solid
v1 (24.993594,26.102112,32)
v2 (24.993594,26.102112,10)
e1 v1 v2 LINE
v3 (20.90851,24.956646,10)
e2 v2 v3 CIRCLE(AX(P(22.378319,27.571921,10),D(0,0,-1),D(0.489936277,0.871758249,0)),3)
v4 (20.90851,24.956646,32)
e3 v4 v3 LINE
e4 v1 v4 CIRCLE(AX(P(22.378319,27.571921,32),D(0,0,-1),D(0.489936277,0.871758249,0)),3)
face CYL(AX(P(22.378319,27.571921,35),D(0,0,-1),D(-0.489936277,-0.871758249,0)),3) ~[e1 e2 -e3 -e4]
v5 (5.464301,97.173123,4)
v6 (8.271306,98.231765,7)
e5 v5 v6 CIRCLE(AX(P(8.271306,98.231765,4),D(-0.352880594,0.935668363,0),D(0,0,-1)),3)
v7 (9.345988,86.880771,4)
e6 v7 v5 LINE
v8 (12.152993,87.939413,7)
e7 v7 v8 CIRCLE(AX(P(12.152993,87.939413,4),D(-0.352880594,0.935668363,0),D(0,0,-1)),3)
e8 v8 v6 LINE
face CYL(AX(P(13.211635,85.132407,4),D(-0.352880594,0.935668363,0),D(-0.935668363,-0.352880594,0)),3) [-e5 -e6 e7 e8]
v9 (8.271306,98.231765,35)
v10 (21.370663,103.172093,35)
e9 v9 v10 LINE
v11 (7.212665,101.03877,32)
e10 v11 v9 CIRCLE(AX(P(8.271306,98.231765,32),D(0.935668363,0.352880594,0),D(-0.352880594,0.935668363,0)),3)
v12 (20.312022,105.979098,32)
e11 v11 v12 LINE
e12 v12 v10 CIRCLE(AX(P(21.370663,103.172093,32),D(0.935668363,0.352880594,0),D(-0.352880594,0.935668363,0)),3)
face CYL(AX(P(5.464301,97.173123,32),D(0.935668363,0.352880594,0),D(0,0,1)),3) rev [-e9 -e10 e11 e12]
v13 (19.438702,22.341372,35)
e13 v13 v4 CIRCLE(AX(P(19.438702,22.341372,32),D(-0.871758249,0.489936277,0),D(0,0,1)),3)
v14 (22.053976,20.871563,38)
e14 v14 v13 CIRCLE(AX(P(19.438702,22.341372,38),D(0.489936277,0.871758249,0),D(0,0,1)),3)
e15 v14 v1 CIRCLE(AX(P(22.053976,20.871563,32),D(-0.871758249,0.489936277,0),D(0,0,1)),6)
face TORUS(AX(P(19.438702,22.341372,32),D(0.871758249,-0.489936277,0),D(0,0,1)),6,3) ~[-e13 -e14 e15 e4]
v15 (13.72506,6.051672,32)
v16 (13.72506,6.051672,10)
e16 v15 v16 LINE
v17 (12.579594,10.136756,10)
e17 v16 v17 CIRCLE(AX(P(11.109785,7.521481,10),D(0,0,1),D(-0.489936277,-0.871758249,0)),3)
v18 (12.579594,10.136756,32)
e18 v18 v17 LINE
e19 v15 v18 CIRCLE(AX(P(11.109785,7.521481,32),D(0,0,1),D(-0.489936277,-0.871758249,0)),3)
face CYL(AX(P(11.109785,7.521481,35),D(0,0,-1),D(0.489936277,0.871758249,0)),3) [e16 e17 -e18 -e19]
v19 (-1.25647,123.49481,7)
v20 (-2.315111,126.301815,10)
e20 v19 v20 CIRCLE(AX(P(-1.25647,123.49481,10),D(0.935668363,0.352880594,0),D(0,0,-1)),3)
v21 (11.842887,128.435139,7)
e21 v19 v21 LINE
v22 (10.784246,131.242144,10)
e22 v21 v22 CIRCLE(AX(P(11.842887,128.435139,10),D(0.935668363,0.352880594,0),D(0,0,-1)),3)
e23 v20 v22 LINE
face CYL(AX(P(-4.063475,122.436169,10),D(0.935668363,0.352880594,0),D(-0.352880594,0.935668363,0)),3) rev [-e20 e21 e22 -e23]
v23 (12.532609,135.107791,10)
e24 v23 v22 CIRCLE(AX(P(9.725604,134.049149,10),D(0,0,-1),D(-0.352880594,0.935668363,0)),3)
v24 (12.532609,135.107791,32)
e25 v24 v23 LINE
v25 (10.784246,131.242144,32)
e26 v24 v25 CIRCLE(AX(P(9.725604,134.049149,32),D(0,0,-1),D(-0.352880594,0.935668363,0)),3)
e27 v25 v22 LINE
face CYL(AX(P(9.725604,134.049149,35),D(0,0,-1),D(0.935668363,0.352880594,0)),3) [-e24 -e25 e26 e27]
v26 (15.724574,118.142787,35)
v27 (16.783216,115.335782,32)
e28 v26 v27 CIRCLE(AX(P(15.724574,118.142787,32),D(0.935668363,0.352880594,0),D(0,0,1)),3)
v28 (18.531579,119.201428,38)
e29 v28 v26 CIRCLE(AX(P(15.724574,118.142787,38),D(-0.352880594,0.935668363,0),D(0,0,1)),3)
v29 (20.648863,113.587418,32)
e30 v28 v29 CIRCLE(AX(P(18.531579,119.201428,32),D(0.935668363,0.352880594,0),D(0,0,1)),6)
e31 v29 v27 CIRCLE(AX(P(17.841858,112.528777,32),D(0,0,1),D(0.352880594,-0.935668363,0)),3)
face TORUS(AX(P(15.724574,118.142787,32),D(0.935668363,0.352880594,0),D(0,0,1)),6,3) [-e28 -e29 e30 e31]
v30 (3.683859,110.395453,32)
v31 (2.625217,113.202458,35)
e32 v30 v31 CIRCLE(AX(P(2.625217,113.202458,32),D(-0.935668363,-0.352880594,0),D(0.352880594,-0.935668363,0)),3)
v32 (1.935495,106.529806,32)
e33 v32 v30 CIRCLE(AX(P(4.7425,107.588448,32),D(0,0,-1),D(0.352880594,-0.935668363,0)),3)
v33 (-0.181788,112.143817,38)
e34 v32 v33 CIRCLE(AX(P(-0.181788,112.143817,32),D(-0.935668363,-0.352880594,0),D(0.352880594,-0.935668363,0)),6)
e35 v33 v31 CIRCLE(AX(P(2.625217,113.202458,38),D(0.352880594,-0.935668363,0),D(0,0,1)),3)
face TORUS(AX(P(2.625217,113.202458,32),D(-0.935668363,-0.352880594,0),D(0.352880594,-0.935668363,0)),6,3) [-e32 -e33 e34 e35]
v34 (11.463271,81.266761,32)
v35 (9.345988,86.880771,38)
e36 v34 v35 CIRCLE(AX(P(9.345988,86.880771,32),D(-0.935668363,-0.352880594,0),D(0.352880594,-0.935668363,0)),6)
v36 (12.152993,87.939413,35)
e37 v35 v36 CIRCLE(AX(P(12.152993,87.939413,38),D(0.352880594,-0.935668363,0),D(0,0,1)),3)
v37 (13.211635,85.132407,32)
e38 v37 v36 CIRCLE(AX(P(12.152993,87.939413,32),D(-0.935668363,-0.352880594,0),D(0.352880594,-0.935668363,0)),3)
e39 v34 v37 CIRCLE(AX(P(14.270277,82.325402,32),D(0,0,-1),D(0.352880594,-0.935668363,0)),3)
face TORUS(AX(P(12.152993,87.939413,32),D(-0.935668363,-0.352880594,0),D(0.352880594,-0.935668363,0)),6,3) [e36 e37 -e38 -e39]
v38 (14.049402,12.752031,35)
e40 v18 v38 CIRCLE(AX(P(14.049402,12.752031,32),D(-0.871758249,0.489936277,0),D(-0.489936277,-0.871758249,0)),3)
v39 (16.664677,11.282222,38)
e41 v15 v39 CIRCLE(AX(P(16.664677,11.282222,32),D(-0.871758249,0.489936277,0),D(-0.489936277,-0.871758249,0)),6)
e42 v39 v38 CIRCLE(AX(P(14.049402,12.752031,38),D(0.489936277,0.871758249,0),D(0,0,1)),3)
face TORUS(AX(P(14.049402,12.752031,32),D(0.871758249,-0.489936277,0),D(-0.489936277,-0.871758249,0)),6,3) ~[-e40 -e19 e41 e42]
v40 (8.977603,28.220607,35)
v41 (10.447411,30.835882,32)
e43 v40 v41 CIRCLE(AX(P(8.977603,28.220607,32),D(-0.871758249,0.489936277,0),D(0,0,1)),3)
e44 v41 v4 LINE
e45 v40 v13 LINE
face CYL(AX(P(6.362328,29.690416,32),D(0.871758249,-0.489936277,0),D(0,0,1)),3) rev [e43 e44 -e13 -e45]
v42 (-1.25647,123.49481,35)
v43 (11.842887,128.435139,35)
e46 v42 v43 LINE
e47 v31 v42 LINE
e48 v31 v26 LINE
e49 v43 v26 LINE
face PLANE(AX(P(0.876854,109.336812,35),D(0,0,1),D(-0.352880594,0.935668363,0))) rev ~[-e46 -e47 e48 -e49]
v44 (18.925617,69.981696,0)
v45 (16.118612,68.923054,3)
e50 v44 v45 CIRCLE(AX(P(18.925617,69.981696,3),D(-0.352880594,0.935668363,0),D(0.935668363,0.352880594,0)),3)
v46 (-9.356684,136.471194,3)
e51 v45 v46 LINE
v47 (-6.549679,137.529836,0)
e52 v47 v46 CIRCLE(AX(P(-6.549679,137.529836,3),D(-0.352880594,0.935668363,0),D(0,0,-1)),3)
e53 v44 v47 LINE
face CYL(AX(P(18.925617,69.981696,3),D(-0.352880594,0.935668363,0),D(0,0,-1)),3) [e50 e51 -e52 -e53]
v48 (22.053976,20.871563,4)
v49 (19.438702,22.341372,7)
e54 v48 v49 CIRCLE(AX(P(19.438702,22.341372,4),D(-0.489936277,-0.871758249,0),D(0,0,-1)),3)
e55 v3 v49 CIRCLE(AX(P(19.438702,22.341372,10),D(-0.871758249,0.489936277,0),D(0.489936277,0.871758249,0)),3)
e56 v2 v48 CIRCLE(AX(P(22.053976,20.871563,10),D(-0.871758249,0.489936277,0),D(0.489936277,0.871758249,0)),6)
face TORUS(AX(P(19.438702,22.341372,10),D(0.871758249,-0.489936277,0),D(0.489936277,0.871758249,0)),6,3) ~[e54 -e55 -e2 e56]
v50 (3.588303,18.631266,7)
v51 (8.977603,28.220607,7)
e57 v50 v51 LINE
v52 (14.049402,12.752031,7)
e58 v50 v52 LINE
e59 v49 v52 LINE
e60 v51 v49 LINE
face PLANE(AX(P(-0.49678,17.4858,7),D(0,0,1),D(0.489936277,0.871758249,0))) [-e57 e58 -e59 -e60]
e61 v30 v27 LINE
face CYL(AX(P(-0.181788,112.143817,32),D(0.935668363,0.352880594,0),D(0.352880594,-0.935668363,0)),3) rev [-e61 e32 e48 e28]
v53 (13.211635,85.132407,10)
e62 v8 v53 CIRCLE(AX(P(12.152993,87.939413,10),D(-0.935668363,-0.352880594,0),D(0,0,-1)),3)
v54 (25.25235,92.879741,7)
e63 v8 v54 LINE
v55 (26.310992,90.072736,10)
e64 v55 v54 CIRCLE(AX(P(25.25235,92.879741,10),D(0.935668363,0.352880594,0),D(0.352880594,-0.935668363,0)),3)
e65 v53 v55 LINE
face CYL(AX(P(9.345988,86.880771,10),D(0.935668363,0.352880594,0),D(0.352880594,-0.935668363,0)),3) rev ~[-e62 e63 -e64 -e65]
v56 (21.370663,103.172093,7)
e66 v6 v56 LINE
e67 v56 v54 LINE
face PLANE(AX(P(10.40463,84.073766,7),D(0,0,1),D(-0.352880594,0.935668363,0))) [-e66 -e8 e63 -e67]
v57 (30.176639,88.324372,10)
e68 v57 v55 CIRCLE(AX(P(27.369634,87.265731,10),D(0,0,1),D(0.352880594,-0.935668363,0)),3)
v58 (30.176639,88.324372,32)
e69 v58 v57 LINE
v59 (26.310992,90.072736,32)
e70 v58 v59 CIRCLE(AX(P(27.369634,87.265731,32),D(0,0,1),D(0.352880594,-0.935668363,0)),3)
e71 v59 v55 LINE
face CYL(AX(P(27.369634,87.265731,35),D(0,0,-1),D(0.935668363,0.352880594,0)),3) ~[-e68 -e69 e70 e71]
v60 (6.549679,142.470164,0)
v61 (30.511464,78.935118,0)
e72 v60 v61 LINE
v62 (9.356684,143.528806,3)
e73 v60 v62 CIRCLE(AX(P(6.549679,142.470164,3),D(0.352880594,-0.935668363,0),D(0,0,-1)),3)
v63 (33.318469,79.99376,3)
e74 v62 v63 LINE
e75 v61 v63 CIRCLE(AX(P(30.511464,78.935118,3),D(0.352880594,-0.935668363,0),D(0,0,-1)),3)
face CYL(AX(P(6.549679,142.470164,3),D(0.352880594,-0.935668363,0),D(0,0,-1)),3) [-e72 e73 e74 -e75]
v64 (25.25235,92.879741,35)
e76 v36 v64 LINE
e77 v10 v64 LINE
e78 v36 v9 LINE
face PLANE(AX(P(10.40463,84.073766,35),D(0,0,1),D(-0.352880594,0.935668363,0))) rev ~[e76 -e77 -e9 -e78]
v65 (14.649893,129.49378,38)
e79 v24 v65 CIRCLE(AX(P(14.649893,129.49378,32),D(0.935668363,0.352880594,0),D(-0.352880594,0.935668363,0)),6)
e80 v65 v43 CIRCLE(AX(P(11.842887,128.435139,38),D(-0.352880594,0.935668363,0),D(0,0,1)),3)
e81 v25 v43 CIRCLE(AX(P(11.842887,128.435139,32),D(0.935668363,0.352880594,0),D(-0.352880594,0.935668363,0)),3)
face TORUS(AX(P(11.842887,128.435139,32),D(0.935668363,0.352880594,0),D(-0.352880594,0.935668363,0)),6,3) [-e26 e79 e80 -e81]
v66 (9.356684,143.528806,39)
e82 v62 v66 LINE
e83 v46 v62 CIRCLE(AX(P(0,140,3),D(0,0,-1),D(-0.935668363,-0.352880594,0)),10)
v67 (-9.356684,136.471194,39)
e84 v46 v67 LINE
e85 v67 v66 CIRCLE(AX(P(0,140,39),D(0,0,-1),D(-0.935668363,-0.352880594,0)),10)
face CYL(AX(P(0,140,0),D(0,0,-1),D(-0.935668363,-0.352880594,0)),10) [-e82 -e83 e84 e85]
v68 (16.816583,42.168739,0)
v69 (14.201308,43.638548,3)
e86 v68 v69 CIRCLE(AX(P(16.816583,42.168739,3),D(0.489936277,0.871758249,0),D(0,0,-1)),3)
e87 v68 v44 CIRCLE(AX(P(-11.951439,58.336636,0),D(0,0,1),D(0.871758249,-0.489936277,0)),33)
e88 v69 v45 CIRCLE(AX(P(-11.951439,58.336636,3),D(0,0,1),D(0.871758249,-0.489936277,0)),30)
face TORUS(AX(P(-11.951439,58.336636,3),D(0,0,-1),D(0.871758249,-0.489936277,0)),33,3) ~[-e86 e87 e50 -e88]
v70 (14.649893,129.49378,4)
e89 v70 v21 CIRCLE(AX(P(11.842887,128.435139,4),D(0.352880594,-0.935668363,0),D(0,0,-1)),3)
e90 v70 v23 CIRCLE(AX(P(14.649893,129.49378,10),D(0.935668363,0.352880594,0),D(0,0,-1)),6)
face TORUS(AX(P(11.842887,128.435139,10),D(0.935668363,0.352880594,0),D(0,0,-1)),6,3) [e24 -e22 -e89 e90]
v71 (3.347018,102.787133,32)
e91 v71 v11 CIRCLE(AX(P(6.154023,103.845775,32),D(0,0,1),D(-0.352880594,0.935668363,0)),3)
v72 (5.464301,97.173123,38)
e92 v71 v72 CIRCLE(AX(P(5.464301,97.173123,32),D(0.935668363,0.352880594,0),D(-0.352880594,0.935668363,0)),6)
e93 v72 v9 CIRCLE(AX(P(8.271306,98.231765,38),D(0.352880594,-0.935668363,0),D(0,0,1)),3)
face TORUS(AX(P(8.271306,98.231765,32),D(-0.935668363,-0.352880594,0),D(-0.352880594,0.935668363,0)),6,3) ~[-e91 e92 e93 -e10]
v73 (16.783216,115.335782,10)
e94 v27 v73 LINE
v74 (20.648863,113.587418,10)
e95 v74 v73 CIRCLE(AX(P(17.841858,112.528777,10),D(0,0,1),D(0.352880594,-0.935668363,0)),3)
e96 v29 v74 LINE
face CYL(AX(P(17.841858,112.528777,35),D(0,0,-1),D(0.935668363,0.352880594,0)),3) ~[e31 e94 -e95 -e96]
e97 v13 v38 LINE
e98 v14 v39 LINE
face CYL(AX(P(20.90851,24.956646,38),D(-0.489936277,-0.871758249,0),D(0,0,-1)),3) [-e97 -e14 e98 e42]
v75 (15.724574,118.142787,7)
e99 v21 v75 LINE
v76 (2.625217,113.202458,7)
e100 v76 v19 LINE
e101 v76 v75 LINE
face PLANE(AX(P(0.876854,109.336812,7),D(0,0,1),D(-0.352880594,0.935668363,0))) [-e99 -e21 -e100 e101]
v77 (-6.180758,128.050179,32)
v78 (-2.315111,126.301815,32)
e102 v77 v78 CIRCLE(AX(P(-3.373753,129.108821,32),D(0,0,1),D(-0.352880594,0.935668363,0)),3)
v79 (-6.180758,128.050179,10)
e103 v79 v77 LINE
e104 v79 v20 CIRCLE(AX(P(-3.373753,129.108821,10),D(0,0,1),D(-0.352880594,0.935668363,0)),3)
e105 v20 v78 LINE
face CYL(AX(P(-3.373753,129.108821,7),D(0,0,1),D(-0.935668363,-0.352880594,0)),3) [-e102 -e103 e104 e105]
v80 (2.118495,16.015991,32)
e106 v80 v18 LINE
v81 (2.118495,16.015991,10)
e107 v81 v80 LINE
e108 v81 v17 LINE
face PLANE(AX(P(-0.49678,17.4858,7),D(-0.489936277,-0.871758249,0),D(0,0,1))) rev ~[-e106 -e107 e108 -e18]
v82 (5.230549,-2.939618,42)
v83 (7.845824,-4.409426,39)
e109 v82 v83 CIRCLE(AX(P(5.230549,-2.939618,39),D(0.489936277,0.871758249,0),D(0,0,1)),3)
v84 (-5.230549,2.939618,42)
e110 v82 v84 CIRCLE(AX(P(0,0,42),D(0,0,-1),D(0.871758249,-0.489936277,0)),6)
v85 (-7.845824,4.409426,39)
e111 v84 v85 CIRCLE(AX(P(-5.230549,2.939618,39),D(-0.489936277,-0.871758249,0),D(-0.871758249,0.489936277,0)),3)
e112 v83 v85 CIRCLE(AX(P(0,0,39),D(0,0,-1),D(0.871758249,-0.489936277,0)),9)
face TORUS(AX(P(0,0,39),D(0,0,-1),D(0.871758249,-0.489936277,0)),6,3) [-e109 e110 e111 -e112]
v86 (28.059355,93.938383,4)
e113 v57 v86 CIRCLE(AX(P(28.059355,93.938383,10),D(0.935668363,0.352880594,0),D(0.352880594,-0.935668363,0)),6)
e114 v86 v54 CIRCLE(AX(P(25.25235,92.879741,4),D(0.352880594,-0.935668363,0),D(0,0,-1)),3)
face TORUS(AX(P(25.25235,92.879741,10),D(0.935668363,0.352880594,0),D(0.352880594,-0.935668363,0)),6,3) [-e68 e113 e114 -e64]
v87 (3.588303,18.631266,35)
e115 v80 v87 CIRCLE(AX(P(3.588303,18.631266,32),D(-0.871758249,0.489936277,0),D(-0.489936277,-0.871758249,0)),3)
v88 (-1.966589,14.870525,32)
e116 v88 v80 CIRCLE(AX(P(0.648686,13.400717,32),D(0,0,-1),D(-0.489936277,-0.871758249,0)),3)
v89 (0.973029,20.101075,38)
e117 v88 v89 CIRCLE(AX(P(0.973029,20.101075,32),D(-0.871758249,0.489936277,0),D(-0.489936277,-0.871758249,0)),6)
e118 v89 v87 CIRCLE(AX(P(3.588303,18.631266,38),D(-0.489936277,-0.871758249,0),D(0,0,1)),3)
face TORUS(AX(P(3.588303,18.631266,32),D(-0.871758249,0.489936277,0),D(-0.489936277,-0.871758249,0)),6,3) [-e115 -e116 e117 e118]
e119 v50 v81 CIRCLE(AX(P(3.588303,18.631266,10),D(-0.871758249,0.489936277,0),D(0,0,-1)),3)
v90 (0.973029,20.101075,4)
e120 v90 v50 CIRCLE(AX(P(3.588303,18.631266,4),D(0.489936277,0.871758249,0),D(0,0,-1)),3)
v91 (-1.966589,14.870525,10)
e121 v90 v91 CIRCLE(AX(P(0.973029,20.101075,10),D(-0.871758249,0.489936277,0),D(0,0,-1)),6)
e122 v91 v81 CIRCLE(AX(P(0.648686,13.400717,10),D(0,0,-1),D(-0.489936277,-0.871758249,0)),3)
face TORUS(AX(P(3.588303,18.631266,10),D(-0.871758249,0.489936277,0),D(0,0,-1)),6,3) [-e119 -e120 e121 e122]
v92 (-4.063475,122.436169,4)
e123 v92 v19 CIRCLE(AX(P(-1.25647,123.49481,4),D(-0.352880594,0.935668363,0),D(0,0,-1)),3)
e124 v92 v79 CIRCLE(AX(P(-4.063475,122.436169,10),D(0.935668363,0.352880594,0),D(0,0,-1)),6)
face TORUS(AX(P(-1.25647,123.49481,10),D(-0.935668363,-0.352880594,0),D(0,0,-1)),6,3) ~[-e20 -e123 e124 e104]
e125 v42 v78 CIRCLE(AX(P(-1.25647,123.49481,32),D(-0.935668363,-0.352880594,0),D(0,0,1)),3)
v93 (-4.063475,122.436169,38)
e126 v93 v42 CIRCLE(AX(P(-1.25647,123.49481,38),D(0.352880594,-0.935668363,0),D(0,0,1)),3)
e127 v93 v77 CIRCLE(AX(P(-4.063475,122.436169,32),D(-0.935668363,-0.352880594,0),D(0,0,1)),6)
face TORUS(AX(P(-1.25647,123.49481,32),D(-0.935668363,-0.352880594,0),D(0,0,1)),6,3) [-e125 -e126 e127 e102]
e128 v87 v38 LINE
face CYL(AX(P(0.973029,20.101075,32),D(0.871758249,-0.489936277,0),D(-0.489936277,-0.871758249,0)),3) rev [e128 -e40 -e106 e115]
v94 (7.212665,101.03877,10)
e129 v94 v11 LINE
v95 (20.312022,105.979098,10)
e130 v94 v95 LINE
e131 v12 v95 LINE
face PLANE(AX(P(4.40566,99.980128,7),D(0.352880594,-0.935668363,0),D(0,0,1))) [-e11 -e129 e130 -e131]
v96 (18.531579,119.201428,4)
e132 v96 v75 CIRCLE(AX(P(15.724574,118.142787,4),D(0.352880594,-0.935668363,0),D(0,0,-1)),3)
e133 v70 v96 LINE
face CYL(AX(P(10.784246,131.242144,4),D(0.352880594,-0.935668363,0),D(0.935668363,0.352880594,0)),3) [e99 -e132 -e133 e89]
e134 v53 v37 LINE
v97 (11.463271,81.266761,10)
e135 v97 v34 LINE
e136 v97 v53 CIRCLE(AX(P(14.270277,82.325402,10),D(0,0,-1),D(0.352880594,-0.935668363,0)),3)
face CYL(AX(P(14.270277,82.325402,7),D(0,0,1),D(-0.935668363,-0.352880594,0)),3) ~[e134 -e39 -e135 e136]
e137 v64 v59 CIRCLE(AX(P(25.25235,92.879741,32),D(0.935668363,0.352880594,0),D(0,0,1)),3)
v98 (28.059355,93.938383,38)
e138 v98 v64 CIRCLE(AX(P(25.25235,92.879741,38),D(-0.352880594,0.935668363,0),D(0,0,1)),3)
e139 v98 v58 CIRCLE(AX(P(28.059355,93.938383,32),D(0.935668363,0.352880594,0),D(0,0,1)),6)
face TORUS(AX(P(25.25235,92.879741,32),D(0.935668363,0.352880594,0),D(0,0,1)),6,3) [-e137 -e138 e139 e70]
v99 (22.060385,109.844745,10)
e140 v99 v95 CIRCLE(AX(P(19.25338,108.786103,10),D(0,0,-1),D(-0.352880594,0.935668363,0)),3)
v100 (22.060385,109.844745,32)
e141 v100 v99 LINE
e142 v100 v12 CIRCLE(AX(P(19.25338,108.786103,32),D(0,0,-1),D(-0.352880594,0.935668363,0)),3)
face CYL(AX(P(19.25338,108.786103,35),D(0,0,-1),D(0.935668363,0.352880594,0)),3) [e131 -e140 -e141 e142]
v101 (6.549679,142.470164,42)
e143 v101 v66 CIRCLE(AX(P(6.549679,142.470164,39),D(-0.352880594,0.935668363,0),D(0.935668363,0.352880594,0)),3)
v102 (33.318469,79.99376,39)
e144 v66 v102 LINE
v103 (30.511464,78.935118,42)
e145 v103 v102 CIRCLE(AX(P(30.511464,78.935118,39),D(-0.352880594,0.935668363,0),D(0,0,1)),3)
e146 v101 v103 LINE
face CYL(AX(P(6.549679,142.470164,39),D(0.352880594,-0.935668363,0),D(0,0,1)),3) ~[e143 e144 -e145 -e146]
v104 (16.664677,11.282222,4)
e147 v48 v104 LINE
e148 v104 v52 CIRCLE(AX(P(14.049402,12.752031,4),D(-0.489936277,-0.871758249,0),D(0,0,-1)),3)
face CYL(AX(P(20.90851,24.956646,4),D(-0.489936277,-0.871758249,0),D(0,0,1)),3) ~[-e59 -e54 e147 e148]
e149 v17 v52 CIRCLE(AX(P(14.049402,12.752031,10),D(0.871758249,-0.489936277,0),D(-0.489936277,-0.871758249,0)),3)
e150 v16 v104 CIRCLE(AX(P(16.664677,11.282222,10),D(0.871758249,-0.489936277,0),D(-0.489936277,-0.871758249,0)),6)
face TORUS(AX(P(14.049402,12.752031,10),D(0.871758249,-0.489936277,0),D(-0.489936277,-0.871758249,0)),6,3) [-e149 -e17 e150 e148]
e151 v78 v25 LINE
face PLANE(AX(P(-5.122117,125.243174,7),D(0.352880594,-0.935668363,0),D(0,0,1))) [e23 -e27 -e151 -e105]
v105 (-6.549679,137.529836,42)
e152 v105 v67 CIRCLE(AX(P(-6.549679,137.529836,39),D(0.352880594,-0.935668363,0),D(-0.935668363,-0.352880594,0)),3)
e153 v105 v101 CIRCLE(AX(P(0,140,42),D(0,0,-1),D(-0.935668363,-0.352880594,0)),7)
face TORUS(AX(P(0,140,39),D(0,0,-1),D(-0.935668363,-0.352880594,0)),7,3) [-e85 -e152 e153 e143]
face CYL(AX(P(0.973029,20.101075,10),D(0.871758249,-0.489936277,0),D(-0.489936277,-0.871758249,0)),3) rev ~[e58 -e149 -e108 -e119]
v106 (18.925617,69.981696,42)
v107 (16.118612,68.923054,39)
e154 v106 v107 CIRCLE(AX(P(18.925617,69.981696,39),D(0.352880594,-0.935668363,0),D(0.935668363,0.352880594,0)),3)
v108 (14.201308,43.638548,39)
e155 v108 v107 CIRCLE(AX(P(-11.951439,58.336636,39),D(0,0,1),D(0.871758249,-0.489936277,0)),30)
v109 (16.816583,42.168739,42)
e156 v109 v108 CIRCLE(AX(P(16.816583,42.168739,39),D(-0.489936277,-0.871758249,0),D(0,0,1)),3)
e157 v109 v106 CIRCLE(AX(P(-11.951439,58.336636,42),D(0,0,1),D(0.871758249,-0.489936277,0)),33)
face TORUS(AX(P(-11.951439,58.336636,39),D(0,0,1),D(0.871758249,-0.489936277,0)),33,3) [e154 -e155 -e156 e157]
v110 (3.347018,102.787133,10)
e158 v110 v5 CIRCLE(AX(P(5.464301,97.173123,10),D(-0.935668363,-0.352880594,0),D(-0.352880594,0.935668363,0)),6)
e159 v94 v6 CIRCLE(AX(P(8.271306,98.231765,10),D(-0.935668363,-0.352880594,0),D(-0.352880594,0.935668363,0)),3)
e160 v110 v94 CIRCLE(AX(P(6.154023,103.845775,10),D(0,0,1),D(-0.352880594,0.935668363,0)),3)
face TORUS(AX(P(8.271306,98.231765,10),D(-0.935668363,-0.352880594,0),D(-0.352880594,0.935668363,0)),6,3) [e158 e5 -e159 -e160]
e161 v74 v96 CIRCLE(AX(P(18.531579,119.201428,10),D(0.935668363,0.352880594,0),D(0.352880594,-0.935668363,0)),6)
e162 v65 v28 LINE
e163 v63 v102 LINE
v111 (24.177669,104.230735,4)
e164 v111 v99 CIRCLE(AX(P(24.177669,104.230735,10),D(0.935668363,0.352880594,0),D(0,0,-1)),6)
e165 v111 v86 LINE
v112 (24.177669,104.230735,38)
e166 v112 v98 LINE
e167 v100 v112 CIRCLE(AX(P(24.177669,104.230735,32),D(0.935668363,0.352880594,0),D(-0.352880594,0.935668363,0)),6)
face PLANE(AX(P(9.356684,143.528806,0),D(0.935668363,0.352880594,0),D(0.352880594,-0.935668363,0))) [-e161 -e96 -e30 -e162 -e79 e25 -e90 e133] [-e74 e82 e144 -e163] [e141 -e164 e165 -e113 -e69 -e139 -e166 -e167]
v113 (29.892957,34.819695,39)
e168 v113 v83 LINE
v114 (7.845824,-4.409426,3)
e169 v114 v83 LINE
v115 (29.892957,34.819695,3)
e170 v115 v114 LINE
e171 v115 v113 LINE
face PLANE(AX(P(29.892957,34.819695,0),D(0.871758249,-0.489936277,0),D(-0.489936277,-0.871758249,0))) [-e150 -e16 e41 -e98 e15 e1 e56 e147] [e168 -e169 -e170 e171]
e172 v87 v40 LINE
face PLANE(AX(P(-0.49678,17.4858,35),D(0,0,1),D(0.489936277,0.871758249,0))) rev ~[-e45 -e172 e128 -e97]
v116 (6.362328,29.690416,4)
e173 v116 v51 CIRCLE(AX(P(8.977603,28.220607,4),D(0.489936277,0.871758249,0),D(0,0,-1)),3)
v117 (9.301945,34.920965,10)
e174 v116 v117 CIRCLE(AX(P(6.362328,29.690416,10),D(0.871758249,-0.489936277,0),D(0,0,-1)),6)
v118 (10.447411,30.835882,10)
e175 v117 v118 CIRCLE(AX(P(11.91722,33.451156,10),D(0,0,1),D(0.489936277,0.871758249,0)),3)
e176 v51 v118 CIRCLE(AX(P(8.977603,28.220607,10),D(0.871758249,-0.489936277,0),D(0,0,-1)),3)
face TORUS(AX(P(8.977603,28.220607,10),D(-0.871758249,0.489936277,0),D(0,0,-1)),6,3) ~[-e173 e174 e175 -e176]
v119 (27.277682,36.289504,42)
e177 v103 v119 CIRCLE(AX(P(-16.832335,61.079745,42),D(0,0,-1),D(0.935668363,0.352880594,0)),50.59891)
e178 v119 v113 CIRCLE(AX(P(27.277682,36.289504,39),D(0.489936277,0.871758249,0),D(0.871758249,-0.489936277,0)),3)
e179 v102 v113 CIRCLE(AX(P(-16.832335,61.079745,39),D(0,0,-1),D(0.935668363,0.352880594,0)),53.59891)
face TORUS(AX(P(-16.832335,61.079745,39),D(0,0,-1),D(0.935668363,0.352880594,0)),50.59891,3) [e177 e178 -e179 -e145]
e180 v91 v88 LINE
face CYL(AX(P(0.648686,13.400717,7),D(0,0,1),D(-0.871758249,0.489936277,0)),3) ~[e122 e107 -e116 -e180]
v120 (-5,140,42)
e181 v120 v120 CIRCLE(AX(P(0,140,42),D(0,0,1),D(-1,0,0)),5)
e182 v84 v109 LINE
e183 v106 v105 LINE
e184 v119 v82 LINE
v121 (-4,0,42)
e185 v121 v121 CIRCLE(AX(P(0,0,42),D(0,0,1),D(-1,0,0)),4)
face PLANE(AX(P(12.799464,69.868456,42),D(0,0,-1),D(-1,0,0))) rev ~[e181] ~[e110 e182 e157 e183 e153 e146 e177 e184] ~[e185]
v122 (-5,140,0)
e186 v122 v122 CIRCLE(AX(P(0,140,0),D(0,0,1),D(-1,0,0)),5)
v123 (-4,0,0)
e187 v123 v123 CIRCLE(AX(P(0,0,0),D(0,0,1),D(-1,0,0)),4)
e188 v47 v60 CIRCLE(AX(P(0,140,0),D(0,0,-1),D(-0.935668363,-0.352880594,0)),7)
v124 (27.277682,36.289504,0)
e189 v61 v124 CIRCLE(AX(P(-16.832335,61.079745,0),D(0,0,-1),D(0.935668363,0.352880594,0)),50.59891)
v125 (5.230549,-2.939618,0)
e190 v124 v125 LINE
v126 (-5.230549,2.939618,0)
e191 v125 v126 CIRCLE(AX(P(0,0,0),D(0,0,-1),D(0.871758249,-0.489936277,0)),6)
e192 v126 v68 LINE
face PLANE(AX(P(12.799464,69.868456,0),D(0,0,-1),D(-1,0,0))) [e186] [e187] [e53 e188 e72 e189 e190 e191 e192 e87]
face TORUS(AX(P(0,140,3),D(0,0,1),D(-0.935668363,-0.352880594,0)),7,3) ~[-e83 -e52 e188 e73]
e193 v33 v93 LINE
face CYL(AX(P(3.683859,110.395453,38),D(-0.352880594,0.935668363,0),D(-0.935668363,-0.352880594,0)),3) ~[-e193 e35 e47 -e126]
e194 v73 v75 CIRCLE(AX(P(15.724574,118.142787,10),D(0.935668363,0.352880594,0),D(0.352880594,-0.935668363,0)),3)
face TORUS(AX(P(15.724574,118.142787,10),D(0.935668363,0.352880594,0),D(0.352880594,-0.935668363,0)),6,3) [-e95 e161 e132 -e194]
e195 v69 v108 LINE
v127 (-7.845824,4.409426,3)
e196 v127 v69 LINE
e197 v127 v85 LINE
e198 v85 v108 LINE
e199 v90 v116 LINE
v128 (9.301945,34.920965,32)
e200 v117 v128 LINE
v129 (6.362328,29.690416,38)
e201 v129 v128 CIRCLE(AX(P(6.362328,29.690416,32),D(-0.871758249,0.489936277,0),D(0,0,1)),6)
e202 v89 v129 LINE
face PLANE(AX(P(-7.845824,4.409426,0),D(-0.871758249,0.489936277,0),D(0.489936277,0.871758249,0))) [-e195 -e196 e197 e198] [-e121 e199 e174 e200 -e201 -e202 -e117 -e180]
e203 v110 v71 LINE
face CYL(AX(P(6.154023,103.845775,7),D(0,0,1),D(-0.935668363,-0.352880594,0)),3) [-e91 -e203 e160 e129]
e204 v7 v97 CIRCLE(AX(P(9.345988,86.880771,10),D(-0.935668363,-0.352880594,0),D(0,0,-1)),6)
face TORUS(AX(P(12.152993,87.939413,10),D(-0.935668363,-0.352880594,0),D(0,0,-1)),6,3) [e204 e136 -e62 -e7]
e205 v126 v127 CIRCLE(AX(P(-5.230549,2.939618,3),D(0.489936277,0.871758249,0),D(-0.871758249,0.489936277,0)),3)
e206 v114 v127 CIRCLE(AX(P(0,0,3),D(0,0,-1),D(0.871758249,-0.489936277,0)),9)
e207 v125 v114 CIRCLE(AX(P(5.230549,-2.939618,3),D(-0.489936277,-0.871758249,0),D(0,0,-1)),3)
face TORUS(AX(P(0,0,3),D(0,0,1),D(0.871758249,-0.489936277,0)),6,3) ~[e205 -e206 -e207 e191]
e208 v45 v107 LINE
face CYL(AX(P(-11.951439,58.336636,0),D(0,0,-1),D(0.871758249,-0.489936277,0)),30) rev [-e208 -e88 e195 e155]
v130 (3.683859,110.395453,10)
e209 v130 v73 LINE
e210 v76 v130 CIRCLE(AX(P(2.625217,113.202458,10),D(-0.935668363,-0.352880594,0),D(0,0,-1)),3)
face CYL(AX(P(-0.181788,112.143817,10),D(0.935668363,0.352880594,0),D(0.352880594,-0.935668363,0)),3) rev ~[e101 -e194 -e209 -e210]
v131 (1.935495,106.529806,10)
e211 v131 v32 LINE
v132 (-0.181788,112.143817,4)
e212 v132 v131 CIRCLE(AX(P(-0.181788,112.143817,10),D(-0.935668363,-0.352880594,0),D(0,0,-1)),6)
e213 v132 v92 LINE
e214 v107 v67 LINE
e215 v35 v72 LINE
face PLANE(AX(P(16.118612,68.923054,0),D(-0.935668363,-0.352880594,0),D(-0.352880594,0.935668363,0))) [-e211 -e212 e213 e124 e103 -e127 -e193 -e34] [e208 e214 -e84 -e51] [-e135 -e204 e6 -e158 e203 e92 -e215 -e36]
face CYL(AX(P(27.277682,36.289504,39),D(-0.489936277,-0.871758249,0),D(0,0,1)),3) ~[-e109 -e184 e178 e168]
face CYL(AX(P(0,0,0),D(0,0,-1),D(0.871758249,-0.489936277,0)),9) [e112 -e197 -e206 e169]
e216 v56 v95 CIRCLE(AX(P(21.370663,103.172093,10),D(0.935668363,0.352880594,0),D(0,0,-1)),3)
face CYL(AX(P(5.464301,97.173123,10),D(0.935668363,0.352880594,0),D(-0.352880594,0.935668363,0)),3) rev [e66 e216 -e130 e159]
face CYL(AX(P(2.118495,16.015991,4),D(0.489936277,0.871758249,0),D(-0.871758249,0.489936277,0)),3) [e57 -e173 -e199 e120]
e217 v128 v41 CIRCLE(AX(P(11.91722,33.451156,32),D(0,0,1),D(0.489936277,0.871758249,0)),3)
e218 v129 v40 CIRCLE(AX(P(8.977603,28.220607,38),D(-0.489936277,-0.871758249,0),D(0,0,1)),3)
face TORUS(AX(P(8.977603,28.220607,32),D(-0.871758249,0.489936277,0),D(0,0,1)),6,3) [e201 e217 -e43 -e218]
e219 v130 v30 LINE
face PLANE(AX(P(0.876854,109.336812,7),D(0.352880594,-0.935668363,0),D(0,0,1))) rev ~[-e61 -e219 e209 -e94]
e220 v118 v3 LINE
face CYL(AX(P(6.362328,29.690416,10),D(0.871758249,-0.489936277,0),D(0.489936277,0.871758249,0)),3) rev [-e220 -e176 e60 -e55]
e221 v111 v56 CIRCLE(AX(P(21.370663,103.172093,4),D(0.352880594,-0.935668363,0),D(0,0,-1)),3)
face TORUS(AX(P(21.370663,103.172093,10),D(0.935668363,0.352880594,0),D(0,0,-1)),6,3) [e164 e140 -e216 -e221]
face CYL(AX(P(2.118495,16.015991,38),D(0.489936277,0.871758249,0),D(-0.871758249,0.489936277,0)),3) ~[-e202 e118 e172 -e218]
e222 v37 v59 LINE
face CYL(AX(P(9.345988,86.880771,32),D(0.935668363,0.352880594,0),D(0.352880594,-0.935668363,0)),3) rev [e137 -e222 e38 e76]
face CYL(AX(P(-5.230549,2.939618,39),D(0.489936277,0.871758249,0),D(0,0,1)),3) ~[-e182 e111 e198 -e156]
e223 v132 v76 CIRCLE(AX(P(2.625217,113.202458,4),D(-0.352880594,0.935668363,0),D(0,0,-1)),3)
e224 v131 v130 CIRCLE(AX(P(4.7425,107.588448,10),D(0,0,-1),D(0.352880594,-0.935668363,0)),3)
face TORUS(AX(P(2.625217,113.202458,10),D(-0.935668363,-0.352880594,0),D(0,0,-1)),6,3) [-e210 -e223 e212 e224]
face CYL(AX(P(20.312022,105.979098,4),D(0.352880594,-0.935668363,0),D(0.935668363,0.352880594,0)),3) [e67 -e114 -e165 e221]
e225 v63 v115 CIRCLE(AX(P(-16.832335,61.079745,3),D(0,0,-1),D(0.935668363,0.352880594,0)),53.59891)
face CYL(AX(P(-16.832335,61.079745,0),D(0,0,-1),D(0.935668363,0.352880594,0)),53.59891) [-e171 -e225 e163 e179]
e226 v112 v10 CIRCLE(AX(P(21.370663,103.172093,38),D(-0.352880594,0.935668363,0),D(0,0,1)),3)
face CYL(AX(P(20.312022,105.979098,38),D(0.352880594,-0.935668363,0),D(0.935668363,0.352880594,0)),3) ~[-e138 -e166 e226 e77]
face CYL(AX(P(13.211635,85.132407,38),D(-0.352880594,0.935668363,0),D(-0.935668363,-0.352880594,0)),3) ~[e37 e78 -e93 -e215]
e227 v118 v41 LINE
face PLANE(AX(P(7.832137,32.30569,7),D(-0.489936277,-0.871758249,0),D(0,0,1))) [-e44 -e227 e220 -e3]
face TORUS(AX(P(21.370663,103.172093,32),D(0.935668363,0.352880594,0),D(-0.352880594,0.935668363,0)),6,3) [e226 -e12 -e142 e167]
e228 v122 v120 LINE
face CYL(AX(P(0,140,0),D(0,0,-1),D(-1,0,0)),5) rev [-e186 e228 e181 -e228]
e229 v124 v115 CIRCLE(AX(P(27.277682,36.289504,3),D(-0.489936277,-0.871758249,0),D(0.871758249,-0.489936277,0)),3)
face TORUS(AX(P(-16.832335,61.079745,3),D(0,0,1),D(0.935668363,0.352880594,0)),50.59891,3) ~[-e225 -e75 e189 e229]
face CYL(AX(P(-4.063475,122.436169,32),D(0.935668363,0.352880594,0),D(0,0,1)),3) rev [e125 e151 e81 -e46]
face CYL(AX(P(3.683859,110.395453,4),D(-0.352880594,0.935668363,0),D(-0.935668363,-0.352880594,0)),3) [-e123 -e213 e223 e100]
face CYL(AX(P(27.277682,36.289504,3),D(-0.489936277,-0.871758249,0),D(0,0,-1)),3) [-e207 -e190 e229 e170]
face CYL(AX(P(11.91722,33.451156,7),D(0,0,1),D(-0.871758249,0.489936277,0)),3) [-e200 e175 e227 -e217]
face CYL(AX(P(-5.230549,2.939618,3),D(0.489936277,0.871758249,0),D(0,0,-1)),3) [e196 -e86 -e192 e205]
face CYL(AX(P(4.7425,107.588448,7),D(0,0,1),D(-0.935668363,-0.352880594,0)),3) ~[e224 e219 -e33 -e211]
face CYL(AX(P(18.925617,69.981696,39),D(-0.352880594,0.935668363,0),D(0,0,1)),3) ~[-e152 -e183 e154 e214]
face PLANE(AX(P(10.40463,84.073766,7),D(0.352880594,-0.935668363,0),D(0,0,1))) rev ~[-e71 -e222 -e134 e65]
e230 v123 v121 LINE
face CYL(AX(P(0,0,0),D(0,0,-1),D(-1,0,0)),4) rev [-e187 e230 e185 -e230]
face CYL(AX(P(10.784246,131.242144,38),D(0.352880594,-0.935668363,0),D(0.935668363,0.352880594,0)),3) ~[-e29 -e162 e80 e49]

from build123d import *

# Parameters (mm, degrees)
SKETCH1_R           = 4
SKETCH1_R_2         = 5
BOSS_EXTRUDE1_DEPTH = 42
SKETCH2_W           = 28
SKETCH2_H           = 17
CUT_EXTRUDE1_DEPTH  = 42
SKETCH3_W           = 28
SKETCH3_H           = 17
CUT_EXTRUDE2_DEPTH  = 42
FILLET1_R           = 3


with BuildPart() as part:
    # Sketch1 → Boss-Extrude1 (new body)
    with BuildSketch(Plane.XY):
        with BuildLine():
            Line((-7.84582424, 4.409426492), (14.20130822, 43.638547694))
            ThreePointArc((14.20130822, 43.638547694), (17.962679965, 56.068272789), (16.118611655, 68.923053821))
            Line((16.118611655, 68.923053821), (-9.356683635, 136.47119406))
            ThreePointArc((-9.356683635, 136.47119406), (-3.52880594, 149.356683635), (9.356683635, 143.52880594))
            Line((9.356683635, 143.52880594), (33.318469172, 79.993760263))
            ThreePointArc((33.318469172, 79.993760263), (36.613137548, 57.027018571), (29.892956701, 34.81969471))
            Line((29.892956701, 34.81969471), (7.84582424, -4.409426492))
            ThreePointArc((7.84582424, -4.409426492), (-4.409426492, -7.84582424), (-7.84582424, 4.409426492))
        make_face()
        with Locations(Location((0, 0, 0), (0, 0, 180))):
            Circle(SKETCH1_R, mode=Mode.SUBTRACT)
        with Locations(Location((0, 140, 0), (0, 0, 180))):
            Circle(SKETCH1_R_2, mode=Mode.SUBTRACT)
    extrude(amount=BOSS_EXTRUDE1_DEPTH)

    # Sketch2 → Cut-Extrude1 (cut)
    with BuildSketch(Plane(origin=(36.868405471, 13.904653969, 0), x_dir=(0, 0, 1), z_dir=(-0.9356683634521398, -0.3528805940184224, 0))):
        with Locations((21, 110.493570883)):
            Rectangle(SKETCH2_W, SKETCH2_H)
        with Locations((21, 83.493570883)):
            Rectangle(SKETCH2_W, SKETCH2_H)
    extrude(amount=-CUT_EXTRUDE1_DEPTH, mode=Mode.SUBTRACT)

    # Sketch3 → Cut-Extrude2 (cut)
    with BuildSketch(Plane(origin=(-7.84582424, 4.409426492, 0), x_dir=(0, 0, 1), z_dir=(-0.8717582489350522, 0.48993627689087443, 0))):
        with Locations((21, 23.5)):
            Rectangle(SKETCH3_W, SKETCH3_H)
    extrude(amount=-CUT_EXTRUDE2_DEPTH, mode=Mode.SUBTRACT)

    # Fillet1
    fillet1_edges = [part.edges().sort_by_distance(p)[0] for p in [
        (-3.52880594, 149.356683635, 42),
        (21.337576403, 111.761283102, 0),
        (36.613137548, 57.027018571, 0),
        (3.38096401, 102.697123941, 42),
        (17.962679965, 56.068272789, 42),
        (3.17774199, 24.023987093, 42),
        (-4.409426492, -7.84582424, 42),
        (18.86939047, 15.205134109, 42),
        (16.590735812, 124.347604489, 7),
        (10.233537227, 112.86561746, 7),
        (13.591250763, 132.300785579, 21),
        (4.234567128, 128.771979639, 7),
        (16.590735812, 124.347604489, 35),
        (4.234567128, 128.771979639, 35),
        (19.590220861, 116.3944234, 21),
        (10.233537227, 112.86561746, 35),
        (-2.122631457, 117.289992609, 7),
        (0.876853592, 109.33681152, 21),
        (-2.122631457, 117.289992609, 35),
        (-5.122116506, 125.243173698, 21),
        (36.613137548, 57.027018571, 42),
        (23.119026801, 107.037739766, 21),
        (13.762343167, 103.508933825, 7),
        (26.11851185, 99.084558676, 35),
        (13.762343167, 103.508933825, 35),
        (29.1179969, 91.131377587, 21),
        (19.761313265, 87.602571647, 35),
        (26.11851185, 99.084558676, 7),
        (19.761313265, 87.602571647, 7),
        (4.405659532, 99.980127885, 21),
        (7.405144581, 92.026946796, 7),
        (10.404629631, 84.073765706, 21),
        (7.405144581, 92.026946796, 35),
        (15.194868394, 8.666947242, 21),
        (19.359326747, 16.076892358, 35),
        (23.523785101, 23.486837474, 21),
        (19.359326747, 16.076892358, 7),
        (21.337576403, 111.761283102, 42),
        (7.349044153, 13.076373734, 7),
        (15.677960861, 27.896263966, 7),
        (15.677960861, 27.896263966, 35),
        (7.349044153, 13.076373734, 35),
        (3.667678267, 24.895745342, 7),
        (-0.496780087, 17.485800226, 21),
        (3.667678267, 24.895745342, 35),
        (7.83213662, 32.305690458, 21),
        (18.86939047, 15.205134109, 0),
        (-4.409426492, -7.84582424, 0),
        (3.17774199, 24.023987093, 0),
        (17.962679965, 56.068272789, 0),
        (3.38096401, 102.697123941, 0),
        (-3.52880594, 149.356683635, 0),
    ]]
    fillet(fillet1_edges, radius=FILLET1_R)


solid = part.part
